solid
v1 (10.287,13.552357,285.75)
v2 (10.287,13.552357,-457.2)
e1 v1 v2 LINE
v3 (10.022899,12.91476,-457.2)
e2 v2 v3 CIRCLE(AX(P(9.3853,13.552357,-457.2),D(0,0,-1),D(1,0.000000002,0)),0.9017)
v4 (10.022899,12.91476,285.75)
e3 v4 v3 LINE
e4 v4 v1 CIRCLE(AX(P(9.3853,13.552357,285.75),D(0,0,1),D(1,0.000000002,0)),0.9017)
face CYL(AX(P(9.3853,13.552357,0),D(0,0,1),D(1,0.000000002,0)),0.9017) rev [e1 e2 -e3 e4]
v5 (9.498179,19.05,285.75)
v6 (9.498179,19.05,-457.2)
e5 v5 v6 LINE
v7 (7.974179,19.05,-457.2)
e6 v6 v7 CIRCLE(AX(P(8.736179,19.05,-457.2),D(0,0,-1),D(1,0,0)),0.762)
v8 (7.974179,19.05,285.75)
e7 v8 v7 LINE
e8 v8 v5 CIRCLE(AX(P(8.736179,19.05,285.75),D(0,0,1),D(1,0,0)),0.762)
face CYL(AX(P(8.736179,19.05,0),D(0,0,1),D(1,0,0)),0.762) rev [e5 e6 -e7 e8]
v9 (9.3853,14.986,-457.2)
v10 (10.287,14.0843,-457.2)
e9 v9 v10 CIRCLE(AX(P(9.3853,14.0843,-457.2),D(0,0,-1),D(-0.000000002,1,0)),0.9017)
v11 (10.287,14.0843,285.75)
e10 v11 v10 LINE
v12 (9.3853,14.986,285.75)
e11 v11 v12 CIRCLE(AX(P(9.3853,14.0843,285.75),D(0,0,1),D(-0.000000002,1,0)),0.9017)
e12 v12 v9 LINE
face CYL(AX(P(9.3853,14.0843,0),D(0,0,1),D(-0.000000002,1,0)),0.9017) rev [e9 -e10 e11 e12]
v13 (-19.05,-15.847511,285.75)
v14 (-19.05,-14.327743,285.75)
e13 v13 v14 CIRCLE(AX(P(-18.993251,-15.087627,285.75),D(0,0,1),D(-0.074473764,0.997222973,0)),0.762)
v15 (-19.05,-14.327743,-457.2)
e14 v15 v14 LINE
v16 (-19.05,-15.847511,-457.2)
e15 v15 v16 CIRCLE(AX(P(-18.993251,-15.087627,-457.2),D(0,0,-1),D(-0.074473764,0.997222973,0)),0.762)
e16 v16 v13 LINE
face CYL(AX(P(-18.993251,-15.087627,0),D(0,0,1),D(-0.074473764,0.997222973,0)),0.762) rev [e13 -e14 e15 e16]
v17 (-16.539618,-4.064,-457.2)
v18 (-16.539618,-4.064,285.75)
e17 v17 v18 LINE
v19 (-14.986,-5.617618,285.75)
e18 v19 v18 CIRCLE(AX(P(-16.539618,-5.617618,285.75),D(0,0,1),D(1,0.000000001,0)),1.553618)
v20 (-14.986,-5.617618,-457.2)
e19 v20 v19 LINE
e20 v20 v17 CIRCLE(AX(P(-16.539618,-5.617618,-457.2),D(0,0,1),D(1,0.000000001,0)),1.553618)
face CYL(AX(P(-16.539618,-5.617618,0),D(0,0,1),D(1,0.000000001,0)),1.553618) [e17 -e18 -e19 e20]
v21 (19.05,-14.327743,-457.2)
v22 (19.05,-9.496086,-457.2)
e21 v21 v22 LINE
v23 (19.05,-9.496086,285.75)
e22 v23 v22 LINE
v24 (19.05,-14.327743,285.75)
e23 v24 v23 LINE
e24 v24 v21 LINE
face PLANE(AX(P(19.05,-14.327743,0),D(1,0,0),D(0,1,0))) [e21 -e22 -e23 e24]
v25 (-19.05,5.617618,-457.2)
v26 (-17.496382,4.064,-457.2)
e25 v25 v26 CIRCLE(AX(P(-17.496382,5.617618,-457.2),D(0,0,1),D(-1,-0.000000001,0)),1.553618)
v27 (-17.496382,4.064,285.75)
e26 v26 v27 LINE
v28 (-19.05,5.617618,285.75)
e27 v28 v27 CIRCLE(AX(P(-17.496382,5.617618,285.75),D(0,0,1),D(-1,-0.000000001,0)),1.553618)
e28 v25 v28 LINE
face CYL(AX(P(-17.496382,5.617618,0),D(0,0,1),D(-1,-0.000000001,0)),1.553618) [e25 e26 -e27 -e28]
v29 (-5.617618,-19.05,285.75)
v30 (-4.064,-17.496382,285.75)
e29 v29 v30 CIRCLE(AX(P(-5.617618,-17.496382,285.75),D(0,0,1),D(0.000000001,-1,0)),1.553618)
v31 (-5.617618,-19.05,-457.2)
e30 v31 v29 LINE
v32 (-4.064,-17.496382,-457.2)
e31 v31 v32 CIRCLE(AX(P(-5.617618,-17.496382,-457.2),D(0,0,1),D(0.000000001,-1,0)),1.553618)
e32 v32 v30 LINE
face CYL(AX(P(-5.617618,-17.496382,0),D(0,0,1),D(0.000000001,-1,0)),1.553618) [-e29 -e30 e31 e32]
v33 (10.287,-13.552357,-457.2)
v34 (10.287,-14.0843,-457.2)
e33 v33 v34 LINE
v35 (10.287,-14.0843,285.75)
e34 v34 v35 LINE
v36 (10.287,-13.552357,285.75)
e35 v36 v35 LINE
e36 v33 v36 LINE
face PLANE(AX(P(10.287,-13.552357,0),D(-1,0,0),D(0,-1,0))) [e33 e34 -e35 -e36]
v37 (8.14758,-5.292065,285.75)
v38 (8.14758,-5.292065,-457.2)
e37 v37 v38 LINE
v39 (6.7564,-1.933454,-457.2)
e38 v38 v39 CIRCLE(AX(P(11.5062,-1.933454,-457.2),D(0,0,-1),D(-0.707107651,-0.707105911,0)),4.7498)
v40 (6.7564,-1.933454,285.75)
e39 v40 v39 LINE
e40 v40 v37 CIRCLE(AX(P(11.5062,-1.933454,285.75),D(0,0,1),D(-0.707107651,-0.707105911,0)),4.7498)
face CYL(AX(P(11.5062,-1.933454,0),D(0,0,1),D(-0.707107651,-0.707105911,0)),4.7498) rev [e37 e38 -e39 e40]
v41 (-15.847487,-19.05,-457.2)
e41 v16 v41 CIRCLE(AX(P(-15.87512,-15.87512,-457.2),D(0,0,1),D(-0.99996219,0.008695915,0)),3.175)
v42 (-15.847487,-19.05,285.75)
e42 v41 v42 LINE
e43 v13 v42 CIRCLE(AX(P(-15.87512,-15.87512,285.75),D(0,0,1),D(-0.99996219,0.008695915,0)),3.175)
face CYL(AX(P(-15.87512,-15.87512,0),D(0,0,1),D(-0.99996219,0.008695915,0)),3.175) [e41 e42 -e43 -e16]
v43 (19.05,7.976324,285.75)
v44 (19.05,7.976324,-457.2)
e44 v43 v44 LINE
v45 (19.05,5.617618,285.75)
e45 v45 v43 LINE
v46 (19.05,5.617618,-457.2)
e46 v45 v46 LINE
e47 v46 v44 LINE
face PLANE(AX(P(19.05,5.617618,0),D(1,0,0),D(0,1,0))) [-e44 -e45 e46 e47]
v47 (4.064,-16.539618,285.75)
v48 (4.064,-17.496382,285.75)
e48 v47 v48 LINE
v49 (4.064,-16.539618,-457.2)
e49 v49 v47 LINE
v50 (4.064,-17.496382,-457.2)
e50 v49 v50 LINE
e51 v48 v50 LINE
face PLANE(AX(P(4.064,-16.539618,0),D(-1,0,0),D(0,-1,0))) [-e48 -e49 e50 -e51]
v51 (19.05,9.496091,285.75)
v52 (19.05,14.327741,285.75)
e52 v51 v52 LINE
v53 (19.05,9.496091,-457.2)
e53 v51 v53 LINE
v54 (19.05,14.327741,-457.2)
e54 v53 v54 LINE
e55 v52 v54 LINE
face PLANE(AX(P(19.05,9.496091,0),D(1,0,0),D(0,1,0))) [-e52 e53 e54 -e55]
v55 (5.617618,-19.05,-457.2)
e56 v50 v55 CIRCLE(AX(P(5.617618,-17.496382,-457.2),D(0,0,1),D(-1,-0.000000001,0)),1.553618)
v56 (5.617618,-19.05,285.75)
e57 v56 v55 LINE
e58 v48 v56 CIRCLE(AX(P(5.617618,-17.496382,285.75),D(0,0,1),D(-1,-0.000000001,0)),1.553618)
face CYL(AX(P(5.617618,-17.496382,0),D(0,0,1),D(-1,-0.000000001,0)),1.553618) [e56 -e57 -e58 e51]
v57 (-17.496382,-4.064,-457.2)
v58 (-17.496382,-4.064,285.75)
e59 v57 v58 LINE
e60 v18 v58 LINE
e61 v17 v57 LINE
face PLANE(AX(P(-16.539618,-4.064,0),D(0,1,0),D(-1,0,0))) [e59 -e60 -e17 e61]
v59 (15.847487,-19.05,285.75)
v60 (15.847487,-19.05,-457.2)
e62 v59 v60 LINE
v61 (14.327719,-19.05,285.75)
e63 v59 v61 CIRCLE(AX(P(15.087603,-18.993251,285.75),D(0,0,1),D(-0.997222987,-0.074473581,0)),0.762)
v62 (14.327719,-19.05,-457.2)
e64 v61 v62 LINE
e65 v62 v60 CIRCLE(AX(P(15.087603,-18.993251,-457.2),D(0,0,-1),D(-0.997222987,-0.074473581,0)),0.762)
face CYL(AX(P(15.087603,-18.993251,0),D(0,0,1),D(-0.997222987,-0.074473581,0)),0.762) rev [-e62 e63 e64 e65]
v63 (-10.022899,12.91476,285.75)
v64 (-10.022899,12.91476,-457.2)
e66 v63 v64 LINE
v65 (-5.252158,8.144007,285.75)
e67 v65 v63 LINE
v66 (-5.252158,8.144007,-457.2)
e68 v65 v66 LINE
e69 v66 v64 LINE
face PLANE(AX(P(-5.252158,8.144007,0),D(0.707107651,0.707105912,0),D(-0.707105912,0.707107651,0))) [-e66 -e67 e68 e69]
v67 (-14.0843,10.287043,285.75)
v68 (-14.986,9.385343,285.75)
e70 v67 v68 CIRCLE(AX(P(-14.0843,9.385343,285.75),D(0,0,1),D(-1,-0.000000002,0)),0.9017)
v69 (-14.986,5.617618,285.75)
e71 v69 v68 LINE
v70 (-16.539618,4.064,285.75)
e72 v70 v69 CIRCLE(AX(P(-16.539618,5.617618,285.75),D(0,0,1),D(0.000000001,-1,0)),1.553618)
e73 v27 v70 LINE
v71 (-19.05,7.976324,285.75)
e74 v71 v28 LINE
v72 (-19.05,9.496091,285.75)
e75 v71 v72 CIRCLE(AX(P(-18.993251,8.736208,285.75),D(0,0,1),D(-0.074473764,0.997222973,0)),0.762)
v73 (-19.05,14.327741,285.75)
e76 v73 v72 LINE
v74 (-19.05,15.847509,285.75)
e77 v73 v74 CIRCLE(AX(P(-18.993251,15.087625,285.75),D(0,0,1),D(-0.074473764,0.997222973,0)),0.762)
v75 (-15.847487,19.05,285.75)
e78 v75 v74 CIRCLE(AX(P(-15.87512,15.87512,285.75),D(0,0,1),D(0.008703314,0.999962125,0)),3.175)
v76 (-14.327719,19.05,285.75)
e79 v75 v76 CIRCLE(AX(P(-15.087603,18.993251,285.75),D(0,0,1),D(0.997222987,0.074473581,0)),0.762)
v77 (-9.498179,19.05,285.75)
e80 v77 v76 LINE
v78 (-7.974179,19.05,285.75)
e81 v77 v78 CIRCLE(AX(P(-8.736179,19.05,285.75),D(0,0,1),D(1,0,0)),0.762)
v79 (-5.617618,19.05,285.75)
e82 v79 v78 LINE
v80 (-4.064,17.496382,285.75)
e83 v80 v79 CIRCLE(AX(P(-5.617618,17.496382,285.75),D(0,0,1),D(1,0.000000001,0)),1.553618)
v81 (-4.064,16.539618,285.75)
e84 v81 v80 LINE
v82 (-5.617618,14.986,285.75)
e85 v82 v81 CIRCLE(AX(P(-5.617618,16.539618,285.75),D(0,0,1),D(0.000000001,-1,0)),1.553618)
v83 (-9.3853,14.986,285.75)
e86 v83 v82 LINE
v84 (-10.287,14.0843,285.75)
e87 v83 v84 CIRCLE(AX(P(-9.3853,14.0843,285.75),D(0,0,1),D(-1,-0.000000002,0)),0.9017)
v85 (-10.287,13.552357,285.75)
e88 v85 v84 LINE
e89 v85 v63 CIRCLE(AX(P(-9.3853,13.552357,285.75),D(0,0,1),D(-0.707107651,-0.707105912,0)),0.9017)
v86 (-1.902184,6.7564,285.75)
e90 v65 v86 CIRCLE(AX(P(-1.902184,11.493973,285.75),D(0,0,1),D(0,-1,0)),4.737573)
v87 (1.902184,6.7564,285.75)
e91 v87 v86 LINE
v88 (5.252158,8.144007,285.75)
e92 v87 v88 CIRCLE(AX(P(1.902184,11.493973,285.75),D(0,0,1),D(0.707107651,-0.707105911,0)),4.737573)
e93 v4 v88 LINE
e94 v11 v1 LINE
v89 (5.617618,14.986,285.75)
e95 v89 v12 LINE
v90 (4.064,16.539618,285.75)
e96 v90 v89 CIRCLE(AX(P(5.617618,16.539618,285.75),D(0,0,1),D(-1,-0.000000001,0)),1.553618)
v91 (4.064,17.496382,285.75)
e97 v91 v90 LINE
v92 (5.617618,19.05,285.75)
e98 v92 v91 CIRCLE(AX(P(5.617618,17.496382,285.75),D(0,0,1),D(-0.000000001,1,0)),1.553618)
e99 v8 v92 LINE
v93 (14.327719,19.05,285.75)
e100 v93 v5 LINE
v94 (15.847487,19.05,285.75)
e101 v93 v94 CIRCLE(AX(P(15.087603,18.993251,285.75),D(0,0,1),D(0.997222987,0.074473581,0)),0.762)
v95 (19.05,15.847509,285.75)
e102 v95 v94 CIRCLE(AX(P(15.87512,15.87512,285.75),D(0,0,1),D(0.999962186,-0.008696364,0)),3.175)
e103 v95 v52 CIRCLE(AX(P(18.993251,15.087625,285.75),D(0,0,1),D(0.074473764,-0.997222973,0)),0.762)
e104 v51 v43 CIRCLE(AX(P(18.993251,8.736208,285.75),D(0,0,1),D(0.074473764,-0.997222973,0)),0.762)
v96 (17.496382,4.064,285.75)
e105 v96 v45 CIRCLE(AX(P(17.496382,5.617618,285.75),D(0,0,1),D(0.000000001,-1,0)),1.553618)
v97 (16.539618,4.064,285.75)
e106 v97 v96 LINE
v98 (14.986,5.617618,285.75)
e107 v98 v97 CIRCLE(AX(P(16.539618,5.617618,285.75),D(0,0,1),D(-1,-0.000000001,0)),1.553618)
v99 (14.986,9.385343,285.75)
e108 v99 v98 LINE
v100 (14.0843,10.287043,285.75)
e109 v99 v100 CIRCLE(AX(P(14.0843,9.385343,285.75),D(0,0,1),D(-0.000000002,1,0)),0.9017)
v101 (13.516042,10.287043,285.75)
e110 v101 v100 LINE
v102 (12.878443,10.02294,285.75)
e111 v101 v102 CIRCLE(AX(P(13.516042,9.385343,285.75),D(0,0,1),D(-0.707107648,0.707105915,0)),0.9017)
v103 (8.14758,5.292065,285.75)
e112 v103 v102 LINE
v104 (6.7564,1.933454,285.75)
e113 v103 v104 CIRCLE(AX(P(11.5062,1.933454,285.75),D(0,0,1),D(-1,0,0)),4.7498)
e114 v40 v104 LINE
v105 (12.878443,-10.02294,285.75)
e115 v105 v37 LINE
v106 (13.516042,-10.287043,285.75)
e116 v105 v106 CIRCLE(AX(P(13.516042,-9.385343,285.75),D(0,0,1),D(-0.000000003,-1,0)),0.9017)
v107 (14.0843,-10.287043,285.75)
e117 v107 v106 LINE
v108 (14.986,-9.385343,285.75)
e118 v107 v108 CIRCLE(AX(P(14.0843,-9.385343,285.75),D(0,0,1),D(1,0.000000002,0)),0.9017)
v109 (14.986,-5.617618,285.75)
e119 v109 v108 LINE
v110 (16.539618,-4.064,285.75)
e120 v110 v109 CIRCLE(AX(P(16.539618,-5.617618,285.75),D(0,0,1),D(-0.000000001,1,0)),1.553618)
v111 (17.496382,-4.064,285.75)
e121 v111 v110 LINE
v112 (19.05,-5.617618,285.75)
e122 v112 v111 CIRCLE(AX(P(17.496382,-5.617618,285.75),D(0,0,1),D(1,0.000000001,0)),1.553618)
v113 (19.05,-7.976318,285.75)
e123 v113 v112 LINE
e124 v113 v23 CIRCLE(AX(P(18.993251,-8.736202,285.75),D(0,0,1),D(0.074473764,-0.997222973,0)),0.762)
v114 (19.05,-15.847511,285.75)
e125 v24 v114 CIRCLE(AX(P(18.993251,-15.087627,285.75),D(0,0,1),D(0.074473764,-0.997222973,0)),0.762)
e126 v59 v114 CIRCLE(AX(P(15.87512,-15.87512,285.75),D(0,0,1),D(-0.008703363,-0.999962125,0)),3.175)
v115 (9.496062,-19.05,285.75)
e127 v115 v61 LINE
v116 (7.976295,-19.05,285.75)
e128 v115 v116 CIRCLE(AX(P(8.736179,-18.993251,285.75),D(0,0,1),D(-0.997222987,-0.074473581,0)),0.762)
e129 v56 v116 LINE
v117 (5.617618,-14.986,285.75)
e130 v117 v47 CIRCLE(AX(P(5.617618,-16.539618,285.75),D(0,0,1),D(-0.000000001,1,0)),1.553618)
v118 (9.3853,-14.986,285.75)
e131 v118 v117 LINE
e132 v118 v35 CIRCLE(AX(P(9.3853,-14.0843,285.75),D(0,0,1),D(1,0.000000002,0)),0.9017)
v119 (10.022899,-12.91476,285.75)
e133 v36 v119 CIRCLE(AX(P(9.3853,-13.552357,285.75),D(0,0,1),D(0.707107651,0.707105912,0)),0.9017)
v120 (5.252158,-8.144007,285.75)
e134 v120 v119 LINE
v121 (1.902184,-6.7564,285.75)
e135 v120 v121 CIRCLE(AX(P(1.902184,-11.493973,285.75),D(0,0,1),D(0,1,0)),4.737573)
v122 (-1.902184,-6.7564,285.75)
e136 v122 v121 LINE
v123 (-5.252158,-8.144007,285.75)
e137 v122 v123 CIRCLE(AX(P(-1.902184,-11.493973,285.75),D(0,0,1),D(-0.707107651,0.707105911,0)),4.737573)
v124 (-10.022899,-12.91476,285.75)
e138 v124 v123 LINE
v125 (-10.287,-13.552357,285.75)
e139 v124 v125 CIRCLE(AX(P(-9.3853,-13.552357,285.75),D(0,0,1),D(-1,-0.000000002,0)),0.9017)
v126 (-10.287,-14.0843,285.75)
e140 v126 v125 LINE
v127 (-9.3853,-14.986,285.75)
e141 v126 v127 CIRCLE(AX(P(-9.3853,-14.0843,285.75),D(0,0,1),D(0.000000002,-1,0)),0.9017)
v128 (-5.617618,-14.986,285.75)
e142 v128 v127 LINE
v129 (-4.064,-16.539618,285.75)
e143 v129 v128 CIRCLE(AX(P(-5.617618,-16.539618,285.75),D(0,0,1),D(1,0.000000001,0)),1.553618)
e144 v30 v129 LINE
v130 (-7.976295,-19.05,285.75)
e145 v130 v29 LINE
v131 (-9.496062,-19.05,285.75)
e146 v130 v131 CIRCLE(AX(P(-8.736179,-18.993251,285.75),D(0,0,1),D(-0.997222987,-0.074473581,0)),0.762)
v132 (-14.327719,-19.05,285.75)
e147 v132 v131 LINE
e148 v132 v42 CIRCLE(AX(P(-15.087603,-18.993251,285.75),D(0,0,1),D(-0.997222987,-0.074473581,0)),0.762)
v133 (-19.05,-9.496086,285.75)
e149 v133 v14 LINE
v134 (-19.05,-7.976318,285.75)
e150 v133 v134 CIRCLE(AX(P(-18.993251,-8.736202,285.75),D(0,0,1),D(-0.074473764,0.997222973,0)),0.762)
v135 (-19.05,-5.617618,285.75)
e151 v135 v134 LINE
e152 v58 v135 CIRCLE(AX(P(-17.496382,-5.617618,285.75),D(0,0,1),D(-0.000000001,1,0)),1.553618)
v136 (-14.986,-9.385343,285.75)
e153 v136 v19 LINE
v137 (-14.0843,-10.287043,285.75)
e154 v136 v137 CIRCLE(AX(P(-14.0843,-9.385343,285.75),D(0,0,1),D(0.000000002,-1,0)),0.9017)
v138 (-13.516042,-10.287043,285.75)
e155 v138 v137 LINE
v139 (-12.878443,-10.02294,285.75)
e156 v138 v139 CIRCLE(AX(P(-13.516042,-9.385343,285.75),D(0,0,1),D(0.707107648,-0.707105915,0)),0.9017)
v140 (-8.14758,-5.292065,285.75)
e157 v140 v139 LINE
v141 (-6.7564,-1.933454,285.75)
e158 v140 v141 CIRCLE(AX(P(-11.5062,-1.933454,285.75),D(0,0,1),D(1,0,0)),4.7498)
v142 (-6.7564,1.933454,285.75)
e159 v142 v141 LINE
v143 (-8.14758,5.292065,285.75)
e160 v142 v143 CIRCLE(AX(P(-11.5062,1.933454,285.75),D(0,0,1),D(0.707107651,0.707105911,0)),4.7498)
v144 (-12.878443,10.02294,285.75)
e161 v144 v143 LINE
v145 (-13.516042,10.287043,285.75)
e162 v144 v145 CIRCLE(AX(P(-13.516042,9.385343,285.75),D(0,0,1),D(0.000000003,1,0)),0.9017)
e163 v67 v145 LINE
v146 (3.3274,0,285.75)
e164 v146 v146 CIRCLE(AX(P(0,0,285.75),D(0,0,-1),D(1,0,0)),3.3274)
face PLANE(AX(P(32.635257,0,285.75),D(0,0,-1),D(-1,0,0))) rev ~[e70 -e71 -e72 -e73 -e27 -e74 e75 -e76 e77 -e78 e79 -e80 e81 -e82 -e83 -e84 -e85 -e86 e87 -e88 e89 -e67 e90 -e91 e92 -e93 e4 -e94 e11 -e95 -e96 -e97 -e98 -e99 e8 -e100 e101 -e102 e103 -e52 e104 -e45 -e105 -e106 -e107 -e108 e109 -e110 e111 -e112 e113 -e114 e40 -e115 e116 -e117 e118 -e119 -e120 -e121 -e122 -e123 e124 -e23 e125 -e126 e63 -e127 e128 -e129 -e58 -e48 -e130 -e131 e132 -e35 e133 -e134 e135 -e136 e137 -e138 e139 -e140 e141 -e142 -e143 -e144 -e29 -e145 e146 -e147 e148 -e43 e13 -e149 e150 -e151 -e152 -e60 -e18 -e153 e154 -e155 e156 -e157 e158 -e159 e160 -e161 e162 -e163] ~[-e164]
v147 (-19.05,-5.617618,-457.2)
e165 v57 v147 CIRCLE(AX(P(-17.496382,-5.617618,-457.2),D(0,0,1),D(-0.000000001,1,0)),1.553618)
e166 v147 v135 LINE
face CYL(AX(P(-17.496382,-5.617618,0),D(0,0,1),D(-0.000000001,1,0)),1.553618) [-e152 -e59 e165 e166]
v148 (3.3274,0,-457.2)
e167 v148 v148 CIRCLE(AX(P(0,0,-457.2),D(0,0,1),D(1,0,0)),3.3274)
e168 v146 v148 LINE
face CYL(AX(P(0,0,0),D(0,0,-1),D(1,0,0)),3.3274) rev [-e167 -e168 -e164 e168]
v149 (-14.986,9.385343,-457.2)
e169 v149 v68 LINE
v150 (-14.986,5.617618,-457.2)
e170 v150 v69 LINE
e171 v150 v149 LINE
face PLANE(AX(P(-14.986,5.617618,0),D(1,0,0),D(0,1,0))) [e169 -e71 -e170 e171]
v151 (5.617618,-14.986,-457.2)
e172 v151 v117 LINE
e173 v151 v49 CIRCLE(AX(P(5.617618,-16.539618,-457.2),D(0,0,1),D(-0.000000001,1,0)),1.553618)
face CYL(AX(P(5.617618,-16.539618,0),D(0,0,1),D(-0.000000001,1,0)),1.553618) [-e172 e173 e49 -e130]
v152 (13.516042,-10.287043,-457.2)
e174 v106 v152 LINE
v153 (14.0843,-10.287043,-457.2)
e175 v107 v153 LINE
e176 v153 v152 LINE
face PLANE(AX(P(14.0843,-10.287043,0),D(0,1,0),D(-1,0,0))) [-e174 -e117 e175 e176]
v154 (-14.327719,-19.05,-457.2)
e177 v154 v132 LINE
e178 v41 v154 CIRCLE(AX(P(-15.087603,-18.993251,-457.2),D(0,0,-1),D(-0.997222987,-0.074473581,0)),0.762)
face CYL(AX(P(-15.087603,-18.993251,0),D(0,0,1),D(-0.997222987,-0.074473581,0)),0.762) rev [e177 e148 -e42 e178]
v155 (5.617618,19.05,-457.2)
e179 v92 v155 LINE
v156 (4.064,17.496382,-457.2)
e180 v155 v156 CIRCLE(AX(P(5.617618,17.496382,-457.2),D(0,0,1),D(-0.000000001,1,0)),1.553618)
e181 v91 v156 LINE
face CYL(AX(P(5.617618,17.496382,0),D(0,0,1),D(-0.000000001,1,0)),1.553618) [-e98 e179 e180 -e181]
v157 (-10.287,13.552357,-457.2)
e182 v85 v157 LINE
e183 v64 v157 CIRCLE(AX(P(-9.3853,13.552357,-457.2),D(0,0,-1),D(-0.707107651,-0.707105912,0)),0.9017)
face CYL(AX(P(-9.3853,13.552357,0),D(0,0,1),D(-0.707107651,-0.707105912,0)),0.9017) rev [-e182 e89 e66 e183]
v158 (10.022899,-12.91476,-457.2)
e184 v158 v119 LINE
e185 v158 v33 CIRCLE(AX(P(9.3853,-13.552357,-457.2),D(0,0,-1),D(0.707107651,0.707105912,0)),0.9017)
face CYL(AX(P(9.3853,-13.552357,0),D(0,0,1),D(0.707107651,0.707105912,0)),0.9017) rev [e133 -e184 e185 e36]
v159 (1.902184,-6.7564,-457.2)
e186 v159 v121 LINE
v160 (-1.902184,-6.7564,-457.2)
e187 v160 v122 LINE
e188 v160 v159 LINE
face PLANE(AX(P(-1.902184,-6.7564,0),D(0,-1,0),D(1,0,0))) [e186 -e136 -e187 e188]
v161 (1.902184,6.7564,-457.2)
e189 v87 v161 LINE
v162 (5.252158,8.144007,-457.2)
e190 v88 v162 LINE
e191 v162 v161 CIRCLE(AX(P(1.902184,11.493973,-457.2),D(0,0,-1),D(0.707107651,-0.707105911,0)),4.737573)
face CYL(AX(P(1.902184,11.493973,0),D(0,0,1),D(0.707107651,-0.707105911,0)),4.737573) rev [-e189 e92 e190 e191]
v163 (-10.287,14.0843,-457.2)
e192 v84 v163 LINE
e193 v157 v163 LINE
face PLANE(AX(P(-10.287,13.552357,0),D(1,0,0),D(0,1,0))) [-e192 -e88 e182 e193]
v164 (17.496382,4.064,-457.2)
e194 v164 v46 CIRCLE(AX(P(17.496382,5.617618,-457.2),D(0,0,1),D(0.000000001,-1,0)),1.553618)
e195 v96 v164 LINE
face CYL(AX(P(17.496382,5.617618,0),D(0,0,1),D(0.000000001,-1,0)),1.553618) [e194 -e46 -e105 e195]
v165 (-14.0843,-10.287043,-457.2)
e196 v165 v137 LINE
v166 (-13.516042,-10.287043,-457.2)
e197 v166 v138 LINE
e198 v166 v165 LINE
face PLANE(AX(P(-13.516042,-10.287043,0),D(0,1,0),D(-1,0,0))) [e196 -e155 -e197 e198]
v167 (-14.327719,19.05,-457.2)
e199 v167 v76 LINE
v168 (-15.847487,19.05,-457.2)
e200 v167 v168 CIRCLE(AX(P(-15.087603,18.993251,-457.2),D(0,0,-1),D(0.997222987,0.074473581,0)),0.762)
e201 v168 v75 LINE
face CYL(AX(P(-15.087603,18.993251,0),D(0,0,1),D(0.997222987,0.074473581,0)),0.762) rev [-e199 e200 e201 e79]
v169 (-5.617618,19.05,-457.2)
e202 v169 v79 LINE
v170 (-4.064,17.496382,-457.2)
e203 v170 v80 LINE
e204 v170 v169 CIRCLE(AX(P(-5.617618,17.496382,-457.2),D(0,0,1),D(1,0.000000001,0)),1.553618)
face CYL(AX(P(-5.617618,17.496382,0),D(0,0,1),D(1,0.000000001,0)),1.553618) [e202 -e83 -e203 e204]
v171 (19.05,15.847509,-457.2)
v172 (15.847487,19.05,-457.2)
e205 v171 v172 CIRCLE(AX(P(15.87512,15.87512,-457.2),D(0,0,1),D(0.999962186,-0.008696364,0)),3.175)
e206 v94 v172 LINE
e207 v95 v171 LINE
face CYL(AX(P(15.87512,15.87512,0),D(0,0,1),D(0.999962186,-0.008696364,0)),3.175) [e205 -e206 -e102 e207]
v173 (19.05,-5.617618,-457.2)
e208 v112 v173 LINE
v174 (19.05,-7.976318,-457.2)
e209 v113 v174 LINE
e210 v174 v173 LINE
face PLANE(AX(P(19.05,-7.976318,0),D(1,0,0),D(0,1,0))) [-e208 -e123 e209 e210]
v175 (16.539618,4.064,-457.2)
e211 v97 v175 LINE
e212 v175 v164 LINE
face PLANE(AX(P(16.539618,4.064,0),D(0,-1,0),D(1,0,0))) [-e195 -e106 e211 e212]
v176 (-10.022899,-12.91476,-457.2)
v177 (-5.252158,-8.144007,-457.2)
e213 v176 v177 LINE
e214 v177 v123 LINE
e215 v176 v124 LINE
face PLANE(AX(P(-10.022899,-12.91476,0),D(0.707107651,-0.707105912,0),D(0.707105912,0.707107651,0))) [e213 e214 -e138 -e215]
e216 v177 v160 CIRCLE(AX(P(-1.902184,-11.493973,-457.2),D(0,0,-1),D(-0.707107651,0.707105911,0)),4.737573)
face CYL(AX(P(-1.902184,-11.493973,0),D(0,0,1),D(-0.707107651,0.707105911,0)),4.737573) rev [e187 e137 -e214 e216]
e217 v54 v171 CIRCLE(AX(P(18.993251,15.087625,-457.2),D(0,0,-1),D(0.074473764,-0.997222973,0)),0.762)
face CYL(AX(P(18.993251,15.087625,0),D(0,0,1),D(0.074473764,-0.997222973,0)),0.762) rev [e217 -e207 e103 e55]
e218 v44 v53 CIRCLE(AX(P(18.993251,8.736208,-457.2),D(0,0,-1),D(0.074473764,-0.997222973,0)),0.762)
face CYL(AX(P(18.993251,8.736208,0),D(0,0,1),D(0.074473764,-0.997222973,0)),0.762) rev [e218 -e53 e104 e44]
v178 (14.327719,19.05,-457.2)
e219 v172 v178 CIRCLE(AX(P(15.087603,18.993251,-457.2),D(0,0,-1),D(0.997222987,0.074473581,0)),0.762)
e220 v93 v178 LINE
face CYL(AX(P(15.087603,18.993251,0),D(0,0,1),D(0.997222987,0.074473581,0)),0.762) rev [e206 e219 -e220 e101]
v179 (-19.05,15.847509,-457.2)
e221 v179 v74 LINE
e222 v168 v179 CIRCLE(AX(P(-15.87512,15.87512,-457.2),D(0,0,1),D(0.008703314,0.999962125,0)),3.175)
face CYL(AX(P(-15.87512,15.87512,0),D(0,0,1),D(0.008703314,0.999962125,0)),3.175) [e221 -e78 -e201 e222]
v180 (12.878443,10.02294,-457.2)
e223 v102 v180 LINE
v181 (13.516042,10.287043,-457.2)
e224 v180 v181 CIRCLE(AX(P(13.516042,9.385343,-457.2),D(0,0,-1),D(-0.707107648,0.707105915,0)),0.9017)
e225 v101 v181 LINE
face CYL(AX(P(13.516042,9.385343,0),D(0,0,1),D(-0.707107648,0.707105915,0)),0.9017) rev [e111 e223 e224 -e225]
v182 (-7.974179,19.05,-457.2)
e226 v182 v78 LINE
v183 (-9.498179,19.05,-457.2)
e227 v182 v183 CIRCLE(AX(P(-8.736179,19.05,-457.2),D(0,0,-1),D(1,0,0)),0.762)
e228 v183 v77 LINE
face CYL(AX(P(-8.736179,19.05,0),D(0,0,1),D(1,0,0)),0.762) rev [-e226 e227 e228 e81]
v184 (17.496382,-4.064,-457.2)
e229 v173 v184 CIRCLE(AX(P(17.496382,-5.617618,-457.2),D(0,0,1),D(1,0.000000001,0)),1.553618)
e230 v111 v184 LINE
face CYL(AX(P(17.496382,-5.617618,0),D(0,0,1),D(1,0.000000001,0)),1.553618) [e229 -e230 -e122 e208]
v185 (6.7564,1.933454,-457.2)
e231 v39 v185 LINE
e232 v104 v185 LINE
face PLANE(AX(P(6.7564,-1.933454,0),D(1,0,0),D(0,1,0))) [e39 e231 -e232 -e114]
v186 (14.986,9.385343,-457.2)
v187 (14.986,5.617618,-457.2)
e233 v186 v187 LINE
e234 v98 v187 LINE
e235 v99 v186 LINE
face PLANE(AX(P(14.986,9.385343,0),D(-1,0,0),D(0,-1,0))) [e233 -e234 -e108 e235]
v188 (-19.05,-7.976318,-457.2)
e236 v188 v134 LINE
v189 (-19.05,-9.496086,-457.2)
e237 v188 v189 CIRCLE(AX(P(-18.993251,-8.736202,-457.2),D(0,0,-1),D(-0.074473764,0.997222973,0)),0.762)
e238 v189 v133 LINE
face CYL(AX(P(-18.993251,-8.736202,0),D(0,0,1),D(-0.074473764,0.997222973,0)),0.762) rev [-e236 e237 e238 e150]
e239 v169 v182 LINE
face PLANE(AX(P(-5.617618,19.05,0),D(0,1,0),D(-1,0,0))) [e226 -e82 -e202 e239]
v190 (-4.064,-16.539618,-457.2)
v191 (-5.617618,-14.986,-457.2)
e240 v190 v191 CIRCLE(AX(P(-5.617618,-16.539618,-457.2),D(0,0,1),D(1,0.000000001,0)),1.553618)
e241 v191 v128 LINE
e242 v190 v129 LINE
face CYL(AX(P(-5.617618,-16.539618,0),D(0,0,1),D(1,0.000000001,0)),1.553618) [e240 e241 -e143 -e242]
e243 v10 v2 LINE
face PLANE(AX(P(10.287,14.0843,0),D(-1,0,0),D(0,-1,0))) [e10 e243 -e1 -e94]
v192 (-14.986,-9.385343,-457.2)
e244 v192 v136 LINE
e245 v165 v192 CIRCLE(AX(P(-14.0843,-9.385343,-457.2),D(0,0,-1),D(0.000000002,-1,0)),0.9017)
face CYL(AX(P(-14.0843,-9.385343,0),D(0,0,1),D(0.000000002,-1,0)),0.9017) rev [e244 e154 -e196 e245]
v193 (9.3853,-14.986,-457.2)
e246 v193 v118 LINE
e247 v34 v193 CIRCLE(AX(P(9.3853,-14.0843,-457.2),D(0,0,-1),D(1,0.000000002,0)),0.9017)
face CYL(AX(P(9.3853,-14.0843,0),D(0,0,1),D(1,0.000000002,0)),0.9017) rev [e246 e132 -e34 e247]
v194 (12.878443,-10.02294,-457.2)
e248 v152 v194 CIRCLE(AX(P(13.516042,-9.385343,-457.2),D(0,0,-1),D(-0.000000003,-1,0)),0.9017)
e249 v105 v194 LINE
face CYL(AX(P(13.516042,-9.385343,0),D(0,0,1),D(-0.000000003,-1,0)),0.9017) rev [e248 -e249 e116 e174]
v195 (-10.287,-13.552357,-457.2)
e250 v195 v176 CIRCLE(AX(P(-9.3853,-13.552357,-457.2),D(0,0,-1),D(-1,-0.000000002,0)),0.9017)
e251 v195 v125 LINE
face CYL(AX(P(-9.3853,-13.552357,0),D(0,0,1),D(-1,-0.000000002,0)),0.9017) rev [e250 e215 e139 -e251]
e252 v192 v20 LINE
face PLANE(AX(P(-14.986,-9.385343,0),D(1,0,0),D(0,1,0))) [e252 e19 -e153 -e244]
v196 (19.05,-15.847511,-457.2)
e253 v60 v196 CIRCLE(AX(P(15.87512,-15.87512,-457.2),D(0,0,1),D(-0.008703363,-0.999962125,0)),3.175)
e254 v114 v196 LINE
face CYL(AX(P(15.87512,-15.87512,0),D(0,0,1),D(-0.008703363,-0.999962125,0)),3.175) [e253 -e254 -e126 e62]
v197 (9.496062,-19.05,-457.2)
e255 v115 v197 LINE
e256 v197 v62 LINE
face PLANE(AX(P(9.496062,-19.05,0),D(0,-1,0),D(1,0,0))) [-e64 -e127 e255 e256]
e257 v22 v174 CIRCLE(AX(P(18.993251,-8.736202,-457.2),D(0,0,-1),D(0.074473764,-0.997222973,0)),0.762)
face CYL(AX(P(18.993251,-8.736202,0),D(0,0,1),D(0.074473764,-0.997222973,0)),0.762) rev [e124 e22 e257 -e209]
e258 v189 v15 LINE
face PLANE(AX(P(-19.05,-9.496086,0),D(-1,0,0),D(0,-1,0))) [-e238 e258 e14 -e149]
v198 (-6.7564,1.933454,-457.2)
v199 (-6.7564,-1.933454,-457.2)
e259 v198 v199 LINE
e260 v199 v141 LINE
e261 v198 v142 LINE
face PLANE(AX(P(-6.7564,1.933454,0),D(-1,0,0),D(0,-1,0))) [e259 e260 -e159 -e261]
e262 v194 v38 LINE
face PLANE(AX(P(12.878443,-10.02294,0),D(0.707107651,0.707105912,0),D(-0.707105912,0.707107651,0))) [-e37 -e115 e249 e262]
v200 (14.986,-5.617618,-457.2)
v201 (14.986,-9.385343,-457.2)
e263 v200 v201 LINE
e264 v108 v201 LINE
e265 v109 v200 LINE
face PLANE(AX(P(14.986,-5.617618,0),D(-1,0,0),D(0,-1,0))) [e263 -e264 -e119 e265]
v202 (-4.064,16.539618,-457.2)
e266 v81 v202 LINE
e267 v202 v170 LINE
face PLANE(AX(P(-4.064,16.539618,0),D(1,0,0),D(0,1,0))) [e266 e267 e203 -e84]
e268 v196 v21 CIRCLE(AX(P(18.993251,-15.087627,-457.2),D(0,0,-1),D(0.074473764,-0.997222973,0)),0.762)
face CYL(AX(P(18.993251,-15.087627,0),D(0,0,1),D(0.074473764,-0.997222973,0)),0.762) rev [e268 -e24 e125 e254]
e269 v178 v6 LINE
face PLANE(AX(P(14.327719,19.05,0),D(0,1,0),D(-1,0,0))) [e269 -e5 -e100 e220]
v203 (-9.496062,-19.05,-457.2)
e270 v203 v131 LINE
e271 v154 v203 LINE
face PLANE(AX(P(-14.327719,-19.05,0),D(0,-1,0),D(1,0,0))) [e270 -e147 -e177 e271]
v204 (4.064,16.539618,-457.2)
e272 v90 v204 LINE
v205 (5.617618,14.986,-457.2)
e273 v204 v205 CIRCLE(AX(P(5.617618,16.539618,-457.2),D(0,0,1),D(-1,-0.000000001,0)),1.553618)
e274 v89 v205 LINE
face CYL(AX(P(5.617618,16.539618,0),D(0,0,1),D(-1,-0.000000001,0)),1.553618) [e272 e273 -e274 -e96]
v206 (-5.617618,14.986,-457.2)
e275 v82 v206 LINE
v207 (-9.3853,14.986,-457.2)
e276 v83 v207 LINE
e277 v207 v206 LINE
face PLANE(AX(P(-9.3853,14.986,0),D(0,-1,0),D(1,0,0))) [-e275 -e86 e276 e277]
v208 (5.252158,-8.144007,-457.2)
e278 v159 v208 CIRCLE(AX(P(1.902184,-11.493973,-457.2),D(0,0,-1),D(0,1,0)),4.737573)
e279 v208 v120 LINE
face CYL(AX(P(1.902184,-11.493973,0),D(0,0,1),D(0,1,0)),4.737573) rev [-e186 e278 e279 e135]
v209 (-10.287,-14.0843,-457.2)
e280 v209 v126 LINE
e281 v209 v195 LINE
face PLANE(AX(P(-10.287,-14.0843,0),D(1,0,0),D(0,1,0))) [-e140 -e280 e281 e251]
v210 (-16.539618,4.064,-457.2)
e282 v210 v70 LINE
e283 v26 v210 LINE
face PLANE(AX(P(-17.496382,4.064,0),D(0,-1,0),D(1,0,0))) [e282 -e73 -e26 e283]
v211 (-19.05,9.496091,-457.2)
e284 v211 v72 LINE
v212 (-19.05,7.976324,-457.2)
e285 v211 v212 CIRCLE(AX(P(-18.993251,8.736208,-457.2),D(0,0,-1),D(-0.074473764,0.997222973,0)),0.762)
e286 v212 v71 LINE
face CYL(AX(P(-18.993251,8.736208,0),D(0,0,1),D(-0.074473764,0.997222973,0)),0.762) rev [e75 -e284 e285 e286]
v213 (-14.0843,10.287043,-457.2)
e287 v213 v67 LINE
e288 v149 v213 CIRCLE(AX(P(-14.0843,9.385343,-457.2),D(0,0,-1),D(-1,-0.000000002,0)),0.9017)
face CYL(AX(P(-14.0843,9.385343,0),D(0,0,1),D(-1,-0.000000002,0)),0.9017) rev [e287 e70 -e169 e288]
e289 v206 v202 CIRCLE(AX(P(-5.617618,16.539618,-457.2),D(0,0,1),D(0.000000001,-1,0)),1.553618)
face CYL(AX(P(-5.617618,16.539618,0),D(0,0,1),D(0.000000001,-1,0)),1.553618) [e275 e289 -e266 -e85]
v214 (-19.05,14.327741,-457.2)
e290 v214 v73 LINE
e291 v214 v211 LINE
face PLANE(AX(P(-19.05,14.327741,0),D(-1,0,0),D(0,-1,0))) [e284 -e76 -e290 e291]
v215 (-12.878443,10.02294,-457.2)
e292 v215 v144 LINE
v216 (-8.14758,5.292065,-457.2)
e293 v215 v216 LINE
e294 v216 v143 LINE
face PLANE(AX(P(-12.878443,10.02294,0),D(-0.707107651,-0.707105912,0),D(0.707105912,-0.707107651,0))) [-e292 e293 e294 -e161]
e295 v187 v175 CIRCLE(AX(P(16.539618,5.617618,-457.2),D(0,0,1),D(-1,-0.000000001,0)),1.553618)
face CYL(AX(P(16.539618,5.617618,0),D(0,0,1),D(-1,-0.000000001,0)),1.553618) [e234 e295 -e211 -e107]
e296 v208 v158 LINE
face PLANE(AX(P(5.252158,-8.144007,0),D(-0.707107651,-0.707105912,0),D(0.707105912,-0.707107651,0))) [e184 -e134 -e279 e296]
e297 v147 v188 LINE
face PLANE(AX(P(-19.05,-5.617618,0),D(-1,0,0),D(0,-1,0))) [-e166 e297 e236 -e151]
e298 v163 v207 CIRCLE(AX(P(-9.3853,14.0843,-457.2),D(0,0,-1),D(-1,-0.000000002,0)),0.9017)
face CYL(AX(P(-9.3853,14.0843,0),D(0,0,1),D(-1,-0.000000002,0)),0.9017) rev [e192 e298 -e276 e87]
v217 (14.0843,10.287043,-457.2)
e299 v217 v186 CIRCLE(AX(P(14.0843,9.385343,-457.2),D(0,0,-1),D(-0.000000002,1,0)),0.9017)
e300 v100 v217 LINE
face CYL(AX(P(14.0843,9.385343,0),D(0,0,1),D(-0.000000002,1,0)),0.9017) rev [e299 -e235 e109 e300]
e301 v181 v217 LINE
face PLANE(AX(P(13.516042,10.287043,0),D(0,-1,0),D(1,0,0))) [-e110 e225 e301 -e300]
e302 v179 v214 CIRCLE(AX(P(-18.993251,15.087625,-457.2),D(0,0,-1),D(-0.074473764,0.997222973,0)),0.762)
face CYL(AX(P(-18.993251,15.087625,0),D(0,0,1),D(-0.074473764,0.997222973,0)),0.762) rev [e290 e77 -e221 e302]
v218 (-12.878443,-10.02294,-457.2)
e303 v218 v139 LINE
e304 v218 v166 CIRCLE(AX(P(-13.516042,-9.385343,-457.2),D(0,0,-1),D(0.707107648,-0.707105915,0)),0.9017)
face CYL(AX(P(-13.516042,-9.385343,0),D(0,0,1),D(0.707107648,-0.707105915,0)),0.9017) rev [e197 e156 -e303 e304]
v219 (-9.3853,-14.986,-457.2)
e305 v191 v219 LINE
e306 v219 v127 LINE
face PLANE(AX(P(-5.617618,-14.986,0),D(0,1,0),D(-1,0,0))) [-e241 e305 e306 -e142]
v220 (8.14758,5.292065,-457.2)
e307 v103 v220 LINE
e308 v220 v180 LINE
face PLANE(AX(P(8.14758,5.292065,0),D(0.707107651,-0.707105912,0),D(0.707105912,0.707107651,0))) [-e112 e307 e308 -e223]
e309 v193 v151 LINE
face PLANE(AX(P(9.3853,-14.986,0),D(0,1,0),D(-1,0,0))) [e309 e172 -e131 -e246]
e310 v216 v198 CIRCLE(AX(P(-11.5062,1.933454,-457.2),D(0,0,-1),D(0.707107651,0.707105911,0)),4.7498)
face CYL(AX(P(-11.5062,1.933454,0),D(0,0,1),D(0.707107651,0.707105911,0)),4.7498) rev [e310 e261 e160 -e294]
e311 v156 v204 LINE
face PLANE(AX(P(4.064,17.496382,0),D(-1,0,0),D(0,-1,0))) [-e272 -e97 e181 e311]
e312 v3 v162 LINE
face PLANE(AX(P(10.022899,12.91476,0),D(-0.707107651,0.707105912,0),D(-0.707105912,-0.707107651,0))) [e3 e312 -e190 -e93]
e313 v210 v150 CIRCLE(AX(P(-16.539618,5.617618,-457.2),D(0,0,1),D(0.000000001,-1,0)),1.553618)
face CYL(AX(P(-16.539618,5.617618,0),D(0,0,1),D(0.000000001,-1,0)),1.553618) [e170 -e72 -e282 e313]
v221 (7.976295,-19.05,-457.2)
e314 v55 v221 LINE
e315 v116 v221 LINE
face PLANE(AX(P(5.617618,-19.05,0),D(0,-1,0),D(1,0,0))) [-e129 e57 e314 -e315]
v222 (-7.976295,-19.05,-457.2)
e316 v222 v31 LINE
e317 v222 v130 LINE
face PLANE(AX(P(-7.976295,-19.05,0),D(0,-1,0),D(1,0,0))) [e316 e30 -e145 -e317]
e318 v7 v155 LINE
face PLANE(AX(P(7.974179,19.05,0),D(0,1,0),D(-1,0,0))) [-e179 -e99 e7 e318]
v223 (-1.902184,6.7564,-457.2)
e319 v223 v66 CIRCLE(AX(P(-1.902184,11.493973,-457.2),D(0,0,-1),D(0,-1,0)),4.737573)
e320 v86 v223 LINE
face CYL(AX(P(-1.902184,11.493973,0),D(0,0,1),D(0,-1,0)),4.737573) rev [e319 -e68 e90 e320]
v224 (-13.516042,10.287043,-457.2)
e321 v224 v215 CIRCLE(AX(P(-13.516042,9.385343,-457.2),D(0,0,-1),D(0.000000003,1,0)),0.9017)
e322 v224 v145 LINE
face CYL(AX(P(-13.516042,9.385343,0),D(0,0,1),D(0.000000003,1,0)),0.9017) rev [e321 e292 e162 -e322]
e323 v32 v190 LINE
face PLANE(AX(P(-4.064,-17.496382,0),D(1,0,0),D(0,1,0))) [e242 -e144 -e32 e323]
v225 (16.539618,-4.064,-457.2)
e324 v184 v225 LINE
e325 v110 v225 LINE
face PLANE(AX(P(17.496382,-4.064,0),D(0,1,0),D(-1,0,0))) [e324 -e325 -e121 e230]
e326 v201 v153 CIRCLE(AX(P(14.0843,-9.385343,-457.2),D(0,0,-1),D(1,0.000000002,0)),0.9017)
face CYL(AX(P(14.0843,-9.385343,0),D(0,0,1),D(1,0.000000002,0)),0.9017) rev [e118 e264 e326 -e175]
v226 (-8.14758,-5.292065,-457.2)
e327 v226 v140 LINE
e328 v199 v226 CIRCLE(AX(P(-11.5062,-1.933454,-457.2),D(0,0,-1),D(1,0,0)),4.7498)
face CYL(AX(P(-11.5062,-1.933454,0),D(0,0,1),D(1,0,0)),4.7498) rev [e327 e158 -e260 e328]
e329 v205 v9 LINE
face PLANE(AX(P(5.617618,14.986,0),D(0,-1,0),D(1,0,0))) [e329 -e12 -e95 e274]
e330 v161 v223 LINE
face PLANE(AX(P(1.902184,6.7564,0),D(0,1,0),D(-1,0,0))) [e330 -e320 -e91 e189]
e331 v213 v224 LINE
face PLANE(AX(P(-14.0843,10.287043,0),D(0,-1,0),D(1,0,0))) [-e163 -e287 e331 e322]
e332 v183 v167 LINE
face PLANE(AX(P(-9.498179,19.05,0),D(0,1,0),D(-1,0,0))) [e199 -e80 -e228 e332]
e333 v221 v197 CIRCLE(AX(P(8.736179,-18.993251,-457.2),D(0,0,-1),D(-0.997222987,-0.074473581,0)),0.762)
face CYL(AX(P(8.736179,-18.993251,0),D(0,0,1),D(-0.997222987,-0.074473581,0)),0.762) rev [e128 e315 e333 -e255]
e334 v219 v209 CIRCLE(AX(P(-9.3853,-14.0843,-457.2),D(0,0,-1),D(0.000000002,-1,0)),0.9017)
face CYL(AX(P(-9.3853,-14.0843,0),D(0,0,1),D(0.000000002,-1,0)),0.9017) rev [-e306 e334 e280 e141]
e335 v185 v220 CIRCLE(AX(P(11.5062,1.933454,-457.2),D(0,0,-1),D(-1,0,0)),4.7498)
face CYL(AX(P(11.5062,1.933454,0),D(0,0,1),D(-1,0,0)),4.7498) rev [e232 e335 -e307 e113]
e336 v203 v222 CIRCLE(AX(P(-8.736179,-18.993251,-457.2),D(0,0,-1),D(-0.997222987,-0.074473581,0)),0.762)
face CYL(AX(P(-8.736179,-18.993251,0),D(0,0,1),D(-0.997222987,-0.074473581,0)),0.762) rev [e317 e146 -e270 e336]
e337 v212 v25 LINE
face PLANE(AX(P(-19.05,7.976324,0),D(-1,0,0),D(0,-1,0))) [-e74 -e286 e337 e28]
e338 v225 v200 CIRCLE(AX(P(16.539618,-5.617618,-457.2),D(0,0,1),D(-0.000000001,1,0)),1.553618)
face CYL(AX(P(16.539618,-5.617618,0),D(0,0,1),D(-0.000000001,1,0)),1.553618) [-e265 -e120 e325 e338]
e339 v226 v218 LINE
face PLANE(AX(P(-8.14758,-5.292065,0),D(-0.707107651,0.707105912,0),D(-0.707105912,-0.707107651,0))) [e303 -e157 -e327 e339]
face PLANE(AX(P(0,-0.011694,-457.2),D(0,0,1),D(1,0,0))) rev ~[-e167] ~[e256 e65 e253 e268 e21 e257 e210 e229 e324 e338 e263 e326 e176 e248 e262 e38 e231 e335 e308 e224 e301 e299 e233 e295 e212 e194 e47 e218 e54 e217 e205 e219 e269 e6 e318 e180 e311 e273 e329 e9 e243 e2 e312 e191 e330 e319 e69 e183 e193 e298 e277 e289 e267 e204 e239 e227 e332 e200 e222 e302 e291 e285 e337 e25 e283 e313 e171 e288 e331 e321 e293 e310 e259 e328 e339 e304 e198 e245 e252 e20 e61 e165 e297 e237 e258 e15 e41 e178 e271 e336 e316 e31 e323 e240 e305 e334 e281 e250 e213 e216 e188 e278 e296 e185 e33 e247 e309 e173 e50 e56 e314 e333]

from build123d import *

# Parameters (mm, degrees)
SKETCH3_R                = 3.3274
BOSS_EXTRUDE1_DEPTH      = 457.2
BOSS_EXTRUDE1_DEPTH_BACK = 457.2
CUT_EXTRUDE1_DEPTH       = 22.86


with BuildPart() as part:
    # Sketch3 → Boss-Extrude1 (new body, two sides)
    with BuildSketch(Plane.XY) as boss_extrude1_sk:
        with BuildLine():
            Line((-4.064, 16.539617549), (-4.064, 17.496382451))
            ThreePointArc((-4.064, 17.496382451), (-4.519044045, 18.594955955), (-5.617617549, 19.05))
            Line((-5.617617549, 19.05), (-7.974178704, 19.05))
            ThreePointArc((-7.974178704, 19.05), (-8.736178704, 18.288), (-9.498178704, 19.05))
            Line((-9.498178704, 19.05), (-14.327719207, 19.05))
            ThreePointArc((-14.327719207, 19.05), (-15.087603123, 18.231251131), (-15.847487039, 19.05))
            ThreePointArc((-15.847487039, 19.05), (-18.120176289, 18.120192083), (-19.05, 15.847509295))
            ThreePointArc((-19.05, 15.847509295), (-18.231250992, 15.08762539), (-19.05, 14.327741484))
            Line((-19.05, 14.327741484), (-19.05, 9.496091471))
            ThreePointArc((-19.05, 9.496091471), (-18.231250992, 8.736207565), (-19.05, 7.97632366))
            Line((-19.05, 7.97632366), (-19.05, 5.617617549))
            ThreePointArc((-19.05, 5.617617549), (-18.594955955, 4.519044045), (-17.496382451, 4.064))
            Line((-17.496382451, 4.064), (-16.539617549, 4.064))
            ThreePointArc((-16.539617549, 4.064), (-15.441044045, 4.519044045), (-14.986, 5.617617549))
            Line((-14.986, 5.617617549), (-14.986, 9.385342516))
            ThreePointArc((-14.986, 9.385342516), (-14.721898185, 10.022940701), (-14.0843, 10.287042516))
            Line((-14.0843, 10.287042516), (-13.516042086, 10.287042516))
            ThreePointArc((-13.516042086, 10.287042516), (-13.170975923, 10.218404478), (-12.878443117, 10.022939917))
            Line((-12.878443117, 10.022939917), (-8.14758008, 5.292065243))
            ThreePointArc((-8.14758008, 5.292065243), (-7.117955879, 3.751120653), (-6.7564, 1.933453584))
            Line((-6.7564, 1.933453584), (-6.7564, -1.933453584))
            ThreePointArc((-6.7564, -1.933453584), (-7.117955879, -3.751120653), (-8.14758008, -5.292065243))
            Line((-8.14758008, -5.292065243), (-12.878443117, -10.022939917))
            ThreePointArc((-12.878443117, -10.022939917), (-13.170975923, -10.218404478), (-13.516042086, -10.287042516))
            Line((-13.516042086, -10.287042516), (-14.0843, -10.287042516))
            ThreePointArc((-14.0843, -10.287042516), (-14.721898185, -10.022940701), (-14.986, -9.385342516))
            Line((-14.986, -9.385342516), (-14.986, -5.617617549))
            ThreePointArc((-14.986, -5.617617549), (-15.441044045, -4.519044045), (-16.539617549, -4.064))
            Line((-16.539617549, -4.064), (-17.496382451, -4.064))
            ThreePointArc((-17.496382451, -4.064), (-18.594955955, -4.519044045), (-19.05, -5.617617549))
            Line((-19.05, -5.617617549), (-19.05, -7.976318491))
            ThreePointArc((-19.05, -7.976318491), (-18.231250992, -8.736202396), (-19.05, -9.496086302))
            Line((-19.05, -9.496086302), (-19.05, -14.32774291))
            ThreePointArc((-19.05, -14.32774291), (-18.231250992, -15.087626816), (-19.05, -15.847510721))
            ThreePointArc((-19.05, -15.847510721), (-18.120175716, -18.120192644), (-15.847486868, -19.05))
            ThreePointArc((-15.847486868, -19.05), (-15.087602952, -18.231251131), (-14.327719036, -19.05))
            Line((-14.327719036, -19.05), (-9.496062448, -19.05))
            ThreePointArc((-9.496062448, -19.05), (-8.736178532, -18.231251131), (-7.976294616, -19.05))
            Line((-7.976294616, -19.05), (-5.617617549, -19.05))
            ThreePointArc((-5.617617549, -19.05), (-4.519044045, -18.594955955), (-4.064, -17.496382451))
            Line((-4.064, -17.496382451), (-4.064, -16.539617549))
            ThreePointArc((-4.064, -16.539617549), (-4.519044045, -15.441044045), (-5.617617549, -14.986))
            Line((-5.617617549, -14.986), (-9.3853, -14.986))
            ThreePointArc((-9.3853, -14.986), (-10.022898185, -14.721898185), (-10.287, -14.0843))
            Line((-10.287, -14.0843), (-10.287, -13.552357131))
            ThreePointArc((-10.287, -13.552357131), (-10.218362387, -13.207291992), (-10.022898969, -12.91475973))
            Line((-10.022898969, -12.91475973), (-5.252158105, -8.144007132))
            ThreePointArc((-5.252158105, -8.144007132), (-3.715177372, -7.117027388), (-1.902183975, -6.7564))
            Line((-1.902183975, -6.7564), (1.902183975, -6.7564))
            ThreePointArc((1.902183975, -6.7564), (3.715177372, -7.117027388), (5.252158105, -8.144007132))
            Line((5.252158105, -8.144007132), (10.022898969, -12.91475973))
            ThreePointArc((10.022898969, -12.91475973), (10.218362387, -13.207291992), (10.287, -13.552357131))
            Line((10.287, -13.552357131), (10.287, -14.0843))
            ThreePointArc((10.287, -14.0843), (10.022898185, -14.721898185), (9.3853, -14.986))
            Line((9.3853, -14.986), (5.617617549, -14.986))
            ThreePointArc((5.617617549, -14.986), (4.519044045, -15.441044045), (4.064, -16.539617549))
            Line((4.064, -16.539617549), (4.064, -17.496382451))
            ThreePointArc((4.064, -17.496382451), (4.519044045, -18.594955955), (5.617617549, -19.05))
            Line((5.617617549, -19.05), (7.976294616, -19.05))
            ThreePointArc((7.976294616, -19.05), (8.736178532, -18.231251131), (9.496062448, -19.05))
            Line((9.496062448, -19.05), (14.327719036, -19.05))
            ThreePointArc((14.327719036, -19.05), (15.087602952, -18.231251131), (15.847486868, -19.05))
            ThreePointArc((15.847486868, -19.05), (18.120175716, -18.120192644), (19.05, -15.847510721))
            ThreePointArc((19.05, -15.847510721), (18.231250992, -15.087626816), (19.05, -14.32774291))
            Line((19.05, -14.32774291), (19.05, -9.496086302))
            ThreePointArc((19.05, -9.496086302), (18.231250992, -8.736202396), (19.05, -7.976318491))
            Line((19.05, -7.976318491), (19.05, -5.617617549))
            ThreePointArc((19.05, -5.617617549), (18.594955955, -4.519044045), (17.496382451, -4.064))
            Line((17.496382451, -4.064), (16.539617549, -4.064))
            ThreePointArc((16.539617549, -4.064), (15.441044045, -4.519044045), (14.986, -5.617617549))
            Line((14.986, -5.617617549), (14.986, -9.385342516))
            ThreePointArc((14.986, -9.385342516), (14.721898185, -10.022940701), (14.0843, -10.287042516))
            Line((14.0843, -10.287042516), (13.516042086, -10.287042516))
            ThreePointArc((13.516042086, -10.287042516), (13.170975923, -10.218404478), (12.878443117, -10.022939917))
            Line((12.878443117, -10.022939917), (8.14758008, -5.292065243))
            ThreePointArc((8.14758008, -5.292065243), (7.117955879, -3.751120653), (6.7564, -1.933453584))
            Line((6.7564, -1.933453584), (6.7564, 1.933453584))
            ThreePointArc((6.7564, 1.933453584), (7.117955879, 3.751120653), (8.14758008, 5.292065243))
            Line((8.14758008, 5.292065243), (12.878443117, 10.022939917))
            ThreePointArc((12.878443117, 10.022939917), (13.170975923, 10.218404478), (13.516042086, 10.287042516))
            Line((13.516042086, 10.287042516), (14.0843, 10.287042516))
            ThreePointArc((14.0843, 10.287042516), (14.721898185, 10.022940701), (14.986, 9.385342516))
            Line((14.986, 9.385342516), (14.986, 5.617617549))
            ThreePointArc((14.986, 5.617617549), (15.441044045, 4.519044045), (16.539617549, 4.064))
            Line((16.539617549, 4.064), (17.496382451, 4.064))
            ThreePointArc((17.496382451, 4.064), (18.594955955, 4.519044045), (19.05, 5.617617549))
            Line((19.05, 5.617617549), (19.05, 7.97632366))
            ThreePointArc((19.05, 7.97632366), (18.231250992, 8.736207565), (19.05, 9.496091471))
            Line((19.05, 9.496091471), (19.05, 14.327741484))
            ThreePointArc((19.05, 14.327741484), (18.231250992, 15.08762539), (19.05, 15.847509295))
            ThreePointArc((19.05, 15.847509295), (18.120176289, 18.120192083), (15.847487039, 19.05))
            ThreePointArc((15.847487039, 19.05), (15.087603123, 18.231251131), (14.327719207, 19.05))
            Line((14.327719207, 19.05), (9.498178704, 19.05))
            ThreePointArc((9.498178704, 19.05), (8.736178704, 18.288), (7.974178704, 19.05))
            Line((7.974178704, 19.05), (5.617617549, 19.05))
            ThreePointArc((5.617617549, 19.05), (4.519044045, 18.594955955), (4.064, 17.496382451))
            Line((4.064, 17.496382451), (4.064, 16.539617549))
            ThreePointArc((4.064, 16.539617549), (4.519044045, 15.441044045), (5.617617549, 14.986))
            Line((5.617617549, 14.986), (9.3853, 14.986))
            ThreePointArc((9.3853, 14.986), (10.022898185, 14.721898185), (10.287, 14.0843))
            Line((10.287, 14.0843), (10.287, 13.552357131))
            ThreePointArc((10.287, 13.552357131), (10.218362387, 13.207291992), (10.022898969, 12.91475973))
            Line((10.022898969, 12.91475973), (5.252158105, 8.144007132))
            ThreePointArc((5.252158105, 8.144007132), (3.715177372, 7.117027388), (1.902183975, 6.7564))
            Line((1.902183975, 6.7564), (-1.902183975, 6.7564))
            ThreePointArc((-1.902183975, 6.7564), (-3.715177372, 7.117027388), (-5.252158105, 8.144007132))
            Line((-5.252158105, 8.144007132), (-10.022898969, 12.91475973))
            ThreePointArc((-10.022898969, 12.91475973), (-10.218362387, 13.207291992), (-10.287, 13.552357131))
            Line((-10.287, 13.552357131), (-10.287, 14.0843))
            ThreePointArc((-10.287, 14.0843), (-10.022898185, 14.721898185), (-9.3853, 14.986))
            Line((-9.3853, 14.986), (-5.617617549, 14.986))
            ThreePointArc((-5.617617549, 14.986), (-4.519044045, 15.441044045), (-4.064, 16.539617549))
        make_face()
        Circle(SKETCH3_R, mode=Mode.SUBTRACT)
    extrude(amount=BOSS_EXTRUDE1_DEPTH)
    extrude(boss_extrude1_sk.sketch, amount=-BOSS_EXTRUDE1_DEPTH_BACK)

    # Sketch4 → Cut-Extrude1 (cut, symmetric)
    with BuildSketch(Plane(origin=(0, 0, 0), x_dir=(1, 0, 0), z_dir=(0, 1, 0))):
        Polygon((-11.912948955, -285.75), (-26.025980117, -285.75), (-26.025980117, -467.527100799), (32.635256624, -467.527100799), (32.635256624, -285.75), align=None)
    extrude(amount=CUT_EXTRUDE1_DEPTH, both=True, mode=Mode.SUBTRACT)


solid = part.part
